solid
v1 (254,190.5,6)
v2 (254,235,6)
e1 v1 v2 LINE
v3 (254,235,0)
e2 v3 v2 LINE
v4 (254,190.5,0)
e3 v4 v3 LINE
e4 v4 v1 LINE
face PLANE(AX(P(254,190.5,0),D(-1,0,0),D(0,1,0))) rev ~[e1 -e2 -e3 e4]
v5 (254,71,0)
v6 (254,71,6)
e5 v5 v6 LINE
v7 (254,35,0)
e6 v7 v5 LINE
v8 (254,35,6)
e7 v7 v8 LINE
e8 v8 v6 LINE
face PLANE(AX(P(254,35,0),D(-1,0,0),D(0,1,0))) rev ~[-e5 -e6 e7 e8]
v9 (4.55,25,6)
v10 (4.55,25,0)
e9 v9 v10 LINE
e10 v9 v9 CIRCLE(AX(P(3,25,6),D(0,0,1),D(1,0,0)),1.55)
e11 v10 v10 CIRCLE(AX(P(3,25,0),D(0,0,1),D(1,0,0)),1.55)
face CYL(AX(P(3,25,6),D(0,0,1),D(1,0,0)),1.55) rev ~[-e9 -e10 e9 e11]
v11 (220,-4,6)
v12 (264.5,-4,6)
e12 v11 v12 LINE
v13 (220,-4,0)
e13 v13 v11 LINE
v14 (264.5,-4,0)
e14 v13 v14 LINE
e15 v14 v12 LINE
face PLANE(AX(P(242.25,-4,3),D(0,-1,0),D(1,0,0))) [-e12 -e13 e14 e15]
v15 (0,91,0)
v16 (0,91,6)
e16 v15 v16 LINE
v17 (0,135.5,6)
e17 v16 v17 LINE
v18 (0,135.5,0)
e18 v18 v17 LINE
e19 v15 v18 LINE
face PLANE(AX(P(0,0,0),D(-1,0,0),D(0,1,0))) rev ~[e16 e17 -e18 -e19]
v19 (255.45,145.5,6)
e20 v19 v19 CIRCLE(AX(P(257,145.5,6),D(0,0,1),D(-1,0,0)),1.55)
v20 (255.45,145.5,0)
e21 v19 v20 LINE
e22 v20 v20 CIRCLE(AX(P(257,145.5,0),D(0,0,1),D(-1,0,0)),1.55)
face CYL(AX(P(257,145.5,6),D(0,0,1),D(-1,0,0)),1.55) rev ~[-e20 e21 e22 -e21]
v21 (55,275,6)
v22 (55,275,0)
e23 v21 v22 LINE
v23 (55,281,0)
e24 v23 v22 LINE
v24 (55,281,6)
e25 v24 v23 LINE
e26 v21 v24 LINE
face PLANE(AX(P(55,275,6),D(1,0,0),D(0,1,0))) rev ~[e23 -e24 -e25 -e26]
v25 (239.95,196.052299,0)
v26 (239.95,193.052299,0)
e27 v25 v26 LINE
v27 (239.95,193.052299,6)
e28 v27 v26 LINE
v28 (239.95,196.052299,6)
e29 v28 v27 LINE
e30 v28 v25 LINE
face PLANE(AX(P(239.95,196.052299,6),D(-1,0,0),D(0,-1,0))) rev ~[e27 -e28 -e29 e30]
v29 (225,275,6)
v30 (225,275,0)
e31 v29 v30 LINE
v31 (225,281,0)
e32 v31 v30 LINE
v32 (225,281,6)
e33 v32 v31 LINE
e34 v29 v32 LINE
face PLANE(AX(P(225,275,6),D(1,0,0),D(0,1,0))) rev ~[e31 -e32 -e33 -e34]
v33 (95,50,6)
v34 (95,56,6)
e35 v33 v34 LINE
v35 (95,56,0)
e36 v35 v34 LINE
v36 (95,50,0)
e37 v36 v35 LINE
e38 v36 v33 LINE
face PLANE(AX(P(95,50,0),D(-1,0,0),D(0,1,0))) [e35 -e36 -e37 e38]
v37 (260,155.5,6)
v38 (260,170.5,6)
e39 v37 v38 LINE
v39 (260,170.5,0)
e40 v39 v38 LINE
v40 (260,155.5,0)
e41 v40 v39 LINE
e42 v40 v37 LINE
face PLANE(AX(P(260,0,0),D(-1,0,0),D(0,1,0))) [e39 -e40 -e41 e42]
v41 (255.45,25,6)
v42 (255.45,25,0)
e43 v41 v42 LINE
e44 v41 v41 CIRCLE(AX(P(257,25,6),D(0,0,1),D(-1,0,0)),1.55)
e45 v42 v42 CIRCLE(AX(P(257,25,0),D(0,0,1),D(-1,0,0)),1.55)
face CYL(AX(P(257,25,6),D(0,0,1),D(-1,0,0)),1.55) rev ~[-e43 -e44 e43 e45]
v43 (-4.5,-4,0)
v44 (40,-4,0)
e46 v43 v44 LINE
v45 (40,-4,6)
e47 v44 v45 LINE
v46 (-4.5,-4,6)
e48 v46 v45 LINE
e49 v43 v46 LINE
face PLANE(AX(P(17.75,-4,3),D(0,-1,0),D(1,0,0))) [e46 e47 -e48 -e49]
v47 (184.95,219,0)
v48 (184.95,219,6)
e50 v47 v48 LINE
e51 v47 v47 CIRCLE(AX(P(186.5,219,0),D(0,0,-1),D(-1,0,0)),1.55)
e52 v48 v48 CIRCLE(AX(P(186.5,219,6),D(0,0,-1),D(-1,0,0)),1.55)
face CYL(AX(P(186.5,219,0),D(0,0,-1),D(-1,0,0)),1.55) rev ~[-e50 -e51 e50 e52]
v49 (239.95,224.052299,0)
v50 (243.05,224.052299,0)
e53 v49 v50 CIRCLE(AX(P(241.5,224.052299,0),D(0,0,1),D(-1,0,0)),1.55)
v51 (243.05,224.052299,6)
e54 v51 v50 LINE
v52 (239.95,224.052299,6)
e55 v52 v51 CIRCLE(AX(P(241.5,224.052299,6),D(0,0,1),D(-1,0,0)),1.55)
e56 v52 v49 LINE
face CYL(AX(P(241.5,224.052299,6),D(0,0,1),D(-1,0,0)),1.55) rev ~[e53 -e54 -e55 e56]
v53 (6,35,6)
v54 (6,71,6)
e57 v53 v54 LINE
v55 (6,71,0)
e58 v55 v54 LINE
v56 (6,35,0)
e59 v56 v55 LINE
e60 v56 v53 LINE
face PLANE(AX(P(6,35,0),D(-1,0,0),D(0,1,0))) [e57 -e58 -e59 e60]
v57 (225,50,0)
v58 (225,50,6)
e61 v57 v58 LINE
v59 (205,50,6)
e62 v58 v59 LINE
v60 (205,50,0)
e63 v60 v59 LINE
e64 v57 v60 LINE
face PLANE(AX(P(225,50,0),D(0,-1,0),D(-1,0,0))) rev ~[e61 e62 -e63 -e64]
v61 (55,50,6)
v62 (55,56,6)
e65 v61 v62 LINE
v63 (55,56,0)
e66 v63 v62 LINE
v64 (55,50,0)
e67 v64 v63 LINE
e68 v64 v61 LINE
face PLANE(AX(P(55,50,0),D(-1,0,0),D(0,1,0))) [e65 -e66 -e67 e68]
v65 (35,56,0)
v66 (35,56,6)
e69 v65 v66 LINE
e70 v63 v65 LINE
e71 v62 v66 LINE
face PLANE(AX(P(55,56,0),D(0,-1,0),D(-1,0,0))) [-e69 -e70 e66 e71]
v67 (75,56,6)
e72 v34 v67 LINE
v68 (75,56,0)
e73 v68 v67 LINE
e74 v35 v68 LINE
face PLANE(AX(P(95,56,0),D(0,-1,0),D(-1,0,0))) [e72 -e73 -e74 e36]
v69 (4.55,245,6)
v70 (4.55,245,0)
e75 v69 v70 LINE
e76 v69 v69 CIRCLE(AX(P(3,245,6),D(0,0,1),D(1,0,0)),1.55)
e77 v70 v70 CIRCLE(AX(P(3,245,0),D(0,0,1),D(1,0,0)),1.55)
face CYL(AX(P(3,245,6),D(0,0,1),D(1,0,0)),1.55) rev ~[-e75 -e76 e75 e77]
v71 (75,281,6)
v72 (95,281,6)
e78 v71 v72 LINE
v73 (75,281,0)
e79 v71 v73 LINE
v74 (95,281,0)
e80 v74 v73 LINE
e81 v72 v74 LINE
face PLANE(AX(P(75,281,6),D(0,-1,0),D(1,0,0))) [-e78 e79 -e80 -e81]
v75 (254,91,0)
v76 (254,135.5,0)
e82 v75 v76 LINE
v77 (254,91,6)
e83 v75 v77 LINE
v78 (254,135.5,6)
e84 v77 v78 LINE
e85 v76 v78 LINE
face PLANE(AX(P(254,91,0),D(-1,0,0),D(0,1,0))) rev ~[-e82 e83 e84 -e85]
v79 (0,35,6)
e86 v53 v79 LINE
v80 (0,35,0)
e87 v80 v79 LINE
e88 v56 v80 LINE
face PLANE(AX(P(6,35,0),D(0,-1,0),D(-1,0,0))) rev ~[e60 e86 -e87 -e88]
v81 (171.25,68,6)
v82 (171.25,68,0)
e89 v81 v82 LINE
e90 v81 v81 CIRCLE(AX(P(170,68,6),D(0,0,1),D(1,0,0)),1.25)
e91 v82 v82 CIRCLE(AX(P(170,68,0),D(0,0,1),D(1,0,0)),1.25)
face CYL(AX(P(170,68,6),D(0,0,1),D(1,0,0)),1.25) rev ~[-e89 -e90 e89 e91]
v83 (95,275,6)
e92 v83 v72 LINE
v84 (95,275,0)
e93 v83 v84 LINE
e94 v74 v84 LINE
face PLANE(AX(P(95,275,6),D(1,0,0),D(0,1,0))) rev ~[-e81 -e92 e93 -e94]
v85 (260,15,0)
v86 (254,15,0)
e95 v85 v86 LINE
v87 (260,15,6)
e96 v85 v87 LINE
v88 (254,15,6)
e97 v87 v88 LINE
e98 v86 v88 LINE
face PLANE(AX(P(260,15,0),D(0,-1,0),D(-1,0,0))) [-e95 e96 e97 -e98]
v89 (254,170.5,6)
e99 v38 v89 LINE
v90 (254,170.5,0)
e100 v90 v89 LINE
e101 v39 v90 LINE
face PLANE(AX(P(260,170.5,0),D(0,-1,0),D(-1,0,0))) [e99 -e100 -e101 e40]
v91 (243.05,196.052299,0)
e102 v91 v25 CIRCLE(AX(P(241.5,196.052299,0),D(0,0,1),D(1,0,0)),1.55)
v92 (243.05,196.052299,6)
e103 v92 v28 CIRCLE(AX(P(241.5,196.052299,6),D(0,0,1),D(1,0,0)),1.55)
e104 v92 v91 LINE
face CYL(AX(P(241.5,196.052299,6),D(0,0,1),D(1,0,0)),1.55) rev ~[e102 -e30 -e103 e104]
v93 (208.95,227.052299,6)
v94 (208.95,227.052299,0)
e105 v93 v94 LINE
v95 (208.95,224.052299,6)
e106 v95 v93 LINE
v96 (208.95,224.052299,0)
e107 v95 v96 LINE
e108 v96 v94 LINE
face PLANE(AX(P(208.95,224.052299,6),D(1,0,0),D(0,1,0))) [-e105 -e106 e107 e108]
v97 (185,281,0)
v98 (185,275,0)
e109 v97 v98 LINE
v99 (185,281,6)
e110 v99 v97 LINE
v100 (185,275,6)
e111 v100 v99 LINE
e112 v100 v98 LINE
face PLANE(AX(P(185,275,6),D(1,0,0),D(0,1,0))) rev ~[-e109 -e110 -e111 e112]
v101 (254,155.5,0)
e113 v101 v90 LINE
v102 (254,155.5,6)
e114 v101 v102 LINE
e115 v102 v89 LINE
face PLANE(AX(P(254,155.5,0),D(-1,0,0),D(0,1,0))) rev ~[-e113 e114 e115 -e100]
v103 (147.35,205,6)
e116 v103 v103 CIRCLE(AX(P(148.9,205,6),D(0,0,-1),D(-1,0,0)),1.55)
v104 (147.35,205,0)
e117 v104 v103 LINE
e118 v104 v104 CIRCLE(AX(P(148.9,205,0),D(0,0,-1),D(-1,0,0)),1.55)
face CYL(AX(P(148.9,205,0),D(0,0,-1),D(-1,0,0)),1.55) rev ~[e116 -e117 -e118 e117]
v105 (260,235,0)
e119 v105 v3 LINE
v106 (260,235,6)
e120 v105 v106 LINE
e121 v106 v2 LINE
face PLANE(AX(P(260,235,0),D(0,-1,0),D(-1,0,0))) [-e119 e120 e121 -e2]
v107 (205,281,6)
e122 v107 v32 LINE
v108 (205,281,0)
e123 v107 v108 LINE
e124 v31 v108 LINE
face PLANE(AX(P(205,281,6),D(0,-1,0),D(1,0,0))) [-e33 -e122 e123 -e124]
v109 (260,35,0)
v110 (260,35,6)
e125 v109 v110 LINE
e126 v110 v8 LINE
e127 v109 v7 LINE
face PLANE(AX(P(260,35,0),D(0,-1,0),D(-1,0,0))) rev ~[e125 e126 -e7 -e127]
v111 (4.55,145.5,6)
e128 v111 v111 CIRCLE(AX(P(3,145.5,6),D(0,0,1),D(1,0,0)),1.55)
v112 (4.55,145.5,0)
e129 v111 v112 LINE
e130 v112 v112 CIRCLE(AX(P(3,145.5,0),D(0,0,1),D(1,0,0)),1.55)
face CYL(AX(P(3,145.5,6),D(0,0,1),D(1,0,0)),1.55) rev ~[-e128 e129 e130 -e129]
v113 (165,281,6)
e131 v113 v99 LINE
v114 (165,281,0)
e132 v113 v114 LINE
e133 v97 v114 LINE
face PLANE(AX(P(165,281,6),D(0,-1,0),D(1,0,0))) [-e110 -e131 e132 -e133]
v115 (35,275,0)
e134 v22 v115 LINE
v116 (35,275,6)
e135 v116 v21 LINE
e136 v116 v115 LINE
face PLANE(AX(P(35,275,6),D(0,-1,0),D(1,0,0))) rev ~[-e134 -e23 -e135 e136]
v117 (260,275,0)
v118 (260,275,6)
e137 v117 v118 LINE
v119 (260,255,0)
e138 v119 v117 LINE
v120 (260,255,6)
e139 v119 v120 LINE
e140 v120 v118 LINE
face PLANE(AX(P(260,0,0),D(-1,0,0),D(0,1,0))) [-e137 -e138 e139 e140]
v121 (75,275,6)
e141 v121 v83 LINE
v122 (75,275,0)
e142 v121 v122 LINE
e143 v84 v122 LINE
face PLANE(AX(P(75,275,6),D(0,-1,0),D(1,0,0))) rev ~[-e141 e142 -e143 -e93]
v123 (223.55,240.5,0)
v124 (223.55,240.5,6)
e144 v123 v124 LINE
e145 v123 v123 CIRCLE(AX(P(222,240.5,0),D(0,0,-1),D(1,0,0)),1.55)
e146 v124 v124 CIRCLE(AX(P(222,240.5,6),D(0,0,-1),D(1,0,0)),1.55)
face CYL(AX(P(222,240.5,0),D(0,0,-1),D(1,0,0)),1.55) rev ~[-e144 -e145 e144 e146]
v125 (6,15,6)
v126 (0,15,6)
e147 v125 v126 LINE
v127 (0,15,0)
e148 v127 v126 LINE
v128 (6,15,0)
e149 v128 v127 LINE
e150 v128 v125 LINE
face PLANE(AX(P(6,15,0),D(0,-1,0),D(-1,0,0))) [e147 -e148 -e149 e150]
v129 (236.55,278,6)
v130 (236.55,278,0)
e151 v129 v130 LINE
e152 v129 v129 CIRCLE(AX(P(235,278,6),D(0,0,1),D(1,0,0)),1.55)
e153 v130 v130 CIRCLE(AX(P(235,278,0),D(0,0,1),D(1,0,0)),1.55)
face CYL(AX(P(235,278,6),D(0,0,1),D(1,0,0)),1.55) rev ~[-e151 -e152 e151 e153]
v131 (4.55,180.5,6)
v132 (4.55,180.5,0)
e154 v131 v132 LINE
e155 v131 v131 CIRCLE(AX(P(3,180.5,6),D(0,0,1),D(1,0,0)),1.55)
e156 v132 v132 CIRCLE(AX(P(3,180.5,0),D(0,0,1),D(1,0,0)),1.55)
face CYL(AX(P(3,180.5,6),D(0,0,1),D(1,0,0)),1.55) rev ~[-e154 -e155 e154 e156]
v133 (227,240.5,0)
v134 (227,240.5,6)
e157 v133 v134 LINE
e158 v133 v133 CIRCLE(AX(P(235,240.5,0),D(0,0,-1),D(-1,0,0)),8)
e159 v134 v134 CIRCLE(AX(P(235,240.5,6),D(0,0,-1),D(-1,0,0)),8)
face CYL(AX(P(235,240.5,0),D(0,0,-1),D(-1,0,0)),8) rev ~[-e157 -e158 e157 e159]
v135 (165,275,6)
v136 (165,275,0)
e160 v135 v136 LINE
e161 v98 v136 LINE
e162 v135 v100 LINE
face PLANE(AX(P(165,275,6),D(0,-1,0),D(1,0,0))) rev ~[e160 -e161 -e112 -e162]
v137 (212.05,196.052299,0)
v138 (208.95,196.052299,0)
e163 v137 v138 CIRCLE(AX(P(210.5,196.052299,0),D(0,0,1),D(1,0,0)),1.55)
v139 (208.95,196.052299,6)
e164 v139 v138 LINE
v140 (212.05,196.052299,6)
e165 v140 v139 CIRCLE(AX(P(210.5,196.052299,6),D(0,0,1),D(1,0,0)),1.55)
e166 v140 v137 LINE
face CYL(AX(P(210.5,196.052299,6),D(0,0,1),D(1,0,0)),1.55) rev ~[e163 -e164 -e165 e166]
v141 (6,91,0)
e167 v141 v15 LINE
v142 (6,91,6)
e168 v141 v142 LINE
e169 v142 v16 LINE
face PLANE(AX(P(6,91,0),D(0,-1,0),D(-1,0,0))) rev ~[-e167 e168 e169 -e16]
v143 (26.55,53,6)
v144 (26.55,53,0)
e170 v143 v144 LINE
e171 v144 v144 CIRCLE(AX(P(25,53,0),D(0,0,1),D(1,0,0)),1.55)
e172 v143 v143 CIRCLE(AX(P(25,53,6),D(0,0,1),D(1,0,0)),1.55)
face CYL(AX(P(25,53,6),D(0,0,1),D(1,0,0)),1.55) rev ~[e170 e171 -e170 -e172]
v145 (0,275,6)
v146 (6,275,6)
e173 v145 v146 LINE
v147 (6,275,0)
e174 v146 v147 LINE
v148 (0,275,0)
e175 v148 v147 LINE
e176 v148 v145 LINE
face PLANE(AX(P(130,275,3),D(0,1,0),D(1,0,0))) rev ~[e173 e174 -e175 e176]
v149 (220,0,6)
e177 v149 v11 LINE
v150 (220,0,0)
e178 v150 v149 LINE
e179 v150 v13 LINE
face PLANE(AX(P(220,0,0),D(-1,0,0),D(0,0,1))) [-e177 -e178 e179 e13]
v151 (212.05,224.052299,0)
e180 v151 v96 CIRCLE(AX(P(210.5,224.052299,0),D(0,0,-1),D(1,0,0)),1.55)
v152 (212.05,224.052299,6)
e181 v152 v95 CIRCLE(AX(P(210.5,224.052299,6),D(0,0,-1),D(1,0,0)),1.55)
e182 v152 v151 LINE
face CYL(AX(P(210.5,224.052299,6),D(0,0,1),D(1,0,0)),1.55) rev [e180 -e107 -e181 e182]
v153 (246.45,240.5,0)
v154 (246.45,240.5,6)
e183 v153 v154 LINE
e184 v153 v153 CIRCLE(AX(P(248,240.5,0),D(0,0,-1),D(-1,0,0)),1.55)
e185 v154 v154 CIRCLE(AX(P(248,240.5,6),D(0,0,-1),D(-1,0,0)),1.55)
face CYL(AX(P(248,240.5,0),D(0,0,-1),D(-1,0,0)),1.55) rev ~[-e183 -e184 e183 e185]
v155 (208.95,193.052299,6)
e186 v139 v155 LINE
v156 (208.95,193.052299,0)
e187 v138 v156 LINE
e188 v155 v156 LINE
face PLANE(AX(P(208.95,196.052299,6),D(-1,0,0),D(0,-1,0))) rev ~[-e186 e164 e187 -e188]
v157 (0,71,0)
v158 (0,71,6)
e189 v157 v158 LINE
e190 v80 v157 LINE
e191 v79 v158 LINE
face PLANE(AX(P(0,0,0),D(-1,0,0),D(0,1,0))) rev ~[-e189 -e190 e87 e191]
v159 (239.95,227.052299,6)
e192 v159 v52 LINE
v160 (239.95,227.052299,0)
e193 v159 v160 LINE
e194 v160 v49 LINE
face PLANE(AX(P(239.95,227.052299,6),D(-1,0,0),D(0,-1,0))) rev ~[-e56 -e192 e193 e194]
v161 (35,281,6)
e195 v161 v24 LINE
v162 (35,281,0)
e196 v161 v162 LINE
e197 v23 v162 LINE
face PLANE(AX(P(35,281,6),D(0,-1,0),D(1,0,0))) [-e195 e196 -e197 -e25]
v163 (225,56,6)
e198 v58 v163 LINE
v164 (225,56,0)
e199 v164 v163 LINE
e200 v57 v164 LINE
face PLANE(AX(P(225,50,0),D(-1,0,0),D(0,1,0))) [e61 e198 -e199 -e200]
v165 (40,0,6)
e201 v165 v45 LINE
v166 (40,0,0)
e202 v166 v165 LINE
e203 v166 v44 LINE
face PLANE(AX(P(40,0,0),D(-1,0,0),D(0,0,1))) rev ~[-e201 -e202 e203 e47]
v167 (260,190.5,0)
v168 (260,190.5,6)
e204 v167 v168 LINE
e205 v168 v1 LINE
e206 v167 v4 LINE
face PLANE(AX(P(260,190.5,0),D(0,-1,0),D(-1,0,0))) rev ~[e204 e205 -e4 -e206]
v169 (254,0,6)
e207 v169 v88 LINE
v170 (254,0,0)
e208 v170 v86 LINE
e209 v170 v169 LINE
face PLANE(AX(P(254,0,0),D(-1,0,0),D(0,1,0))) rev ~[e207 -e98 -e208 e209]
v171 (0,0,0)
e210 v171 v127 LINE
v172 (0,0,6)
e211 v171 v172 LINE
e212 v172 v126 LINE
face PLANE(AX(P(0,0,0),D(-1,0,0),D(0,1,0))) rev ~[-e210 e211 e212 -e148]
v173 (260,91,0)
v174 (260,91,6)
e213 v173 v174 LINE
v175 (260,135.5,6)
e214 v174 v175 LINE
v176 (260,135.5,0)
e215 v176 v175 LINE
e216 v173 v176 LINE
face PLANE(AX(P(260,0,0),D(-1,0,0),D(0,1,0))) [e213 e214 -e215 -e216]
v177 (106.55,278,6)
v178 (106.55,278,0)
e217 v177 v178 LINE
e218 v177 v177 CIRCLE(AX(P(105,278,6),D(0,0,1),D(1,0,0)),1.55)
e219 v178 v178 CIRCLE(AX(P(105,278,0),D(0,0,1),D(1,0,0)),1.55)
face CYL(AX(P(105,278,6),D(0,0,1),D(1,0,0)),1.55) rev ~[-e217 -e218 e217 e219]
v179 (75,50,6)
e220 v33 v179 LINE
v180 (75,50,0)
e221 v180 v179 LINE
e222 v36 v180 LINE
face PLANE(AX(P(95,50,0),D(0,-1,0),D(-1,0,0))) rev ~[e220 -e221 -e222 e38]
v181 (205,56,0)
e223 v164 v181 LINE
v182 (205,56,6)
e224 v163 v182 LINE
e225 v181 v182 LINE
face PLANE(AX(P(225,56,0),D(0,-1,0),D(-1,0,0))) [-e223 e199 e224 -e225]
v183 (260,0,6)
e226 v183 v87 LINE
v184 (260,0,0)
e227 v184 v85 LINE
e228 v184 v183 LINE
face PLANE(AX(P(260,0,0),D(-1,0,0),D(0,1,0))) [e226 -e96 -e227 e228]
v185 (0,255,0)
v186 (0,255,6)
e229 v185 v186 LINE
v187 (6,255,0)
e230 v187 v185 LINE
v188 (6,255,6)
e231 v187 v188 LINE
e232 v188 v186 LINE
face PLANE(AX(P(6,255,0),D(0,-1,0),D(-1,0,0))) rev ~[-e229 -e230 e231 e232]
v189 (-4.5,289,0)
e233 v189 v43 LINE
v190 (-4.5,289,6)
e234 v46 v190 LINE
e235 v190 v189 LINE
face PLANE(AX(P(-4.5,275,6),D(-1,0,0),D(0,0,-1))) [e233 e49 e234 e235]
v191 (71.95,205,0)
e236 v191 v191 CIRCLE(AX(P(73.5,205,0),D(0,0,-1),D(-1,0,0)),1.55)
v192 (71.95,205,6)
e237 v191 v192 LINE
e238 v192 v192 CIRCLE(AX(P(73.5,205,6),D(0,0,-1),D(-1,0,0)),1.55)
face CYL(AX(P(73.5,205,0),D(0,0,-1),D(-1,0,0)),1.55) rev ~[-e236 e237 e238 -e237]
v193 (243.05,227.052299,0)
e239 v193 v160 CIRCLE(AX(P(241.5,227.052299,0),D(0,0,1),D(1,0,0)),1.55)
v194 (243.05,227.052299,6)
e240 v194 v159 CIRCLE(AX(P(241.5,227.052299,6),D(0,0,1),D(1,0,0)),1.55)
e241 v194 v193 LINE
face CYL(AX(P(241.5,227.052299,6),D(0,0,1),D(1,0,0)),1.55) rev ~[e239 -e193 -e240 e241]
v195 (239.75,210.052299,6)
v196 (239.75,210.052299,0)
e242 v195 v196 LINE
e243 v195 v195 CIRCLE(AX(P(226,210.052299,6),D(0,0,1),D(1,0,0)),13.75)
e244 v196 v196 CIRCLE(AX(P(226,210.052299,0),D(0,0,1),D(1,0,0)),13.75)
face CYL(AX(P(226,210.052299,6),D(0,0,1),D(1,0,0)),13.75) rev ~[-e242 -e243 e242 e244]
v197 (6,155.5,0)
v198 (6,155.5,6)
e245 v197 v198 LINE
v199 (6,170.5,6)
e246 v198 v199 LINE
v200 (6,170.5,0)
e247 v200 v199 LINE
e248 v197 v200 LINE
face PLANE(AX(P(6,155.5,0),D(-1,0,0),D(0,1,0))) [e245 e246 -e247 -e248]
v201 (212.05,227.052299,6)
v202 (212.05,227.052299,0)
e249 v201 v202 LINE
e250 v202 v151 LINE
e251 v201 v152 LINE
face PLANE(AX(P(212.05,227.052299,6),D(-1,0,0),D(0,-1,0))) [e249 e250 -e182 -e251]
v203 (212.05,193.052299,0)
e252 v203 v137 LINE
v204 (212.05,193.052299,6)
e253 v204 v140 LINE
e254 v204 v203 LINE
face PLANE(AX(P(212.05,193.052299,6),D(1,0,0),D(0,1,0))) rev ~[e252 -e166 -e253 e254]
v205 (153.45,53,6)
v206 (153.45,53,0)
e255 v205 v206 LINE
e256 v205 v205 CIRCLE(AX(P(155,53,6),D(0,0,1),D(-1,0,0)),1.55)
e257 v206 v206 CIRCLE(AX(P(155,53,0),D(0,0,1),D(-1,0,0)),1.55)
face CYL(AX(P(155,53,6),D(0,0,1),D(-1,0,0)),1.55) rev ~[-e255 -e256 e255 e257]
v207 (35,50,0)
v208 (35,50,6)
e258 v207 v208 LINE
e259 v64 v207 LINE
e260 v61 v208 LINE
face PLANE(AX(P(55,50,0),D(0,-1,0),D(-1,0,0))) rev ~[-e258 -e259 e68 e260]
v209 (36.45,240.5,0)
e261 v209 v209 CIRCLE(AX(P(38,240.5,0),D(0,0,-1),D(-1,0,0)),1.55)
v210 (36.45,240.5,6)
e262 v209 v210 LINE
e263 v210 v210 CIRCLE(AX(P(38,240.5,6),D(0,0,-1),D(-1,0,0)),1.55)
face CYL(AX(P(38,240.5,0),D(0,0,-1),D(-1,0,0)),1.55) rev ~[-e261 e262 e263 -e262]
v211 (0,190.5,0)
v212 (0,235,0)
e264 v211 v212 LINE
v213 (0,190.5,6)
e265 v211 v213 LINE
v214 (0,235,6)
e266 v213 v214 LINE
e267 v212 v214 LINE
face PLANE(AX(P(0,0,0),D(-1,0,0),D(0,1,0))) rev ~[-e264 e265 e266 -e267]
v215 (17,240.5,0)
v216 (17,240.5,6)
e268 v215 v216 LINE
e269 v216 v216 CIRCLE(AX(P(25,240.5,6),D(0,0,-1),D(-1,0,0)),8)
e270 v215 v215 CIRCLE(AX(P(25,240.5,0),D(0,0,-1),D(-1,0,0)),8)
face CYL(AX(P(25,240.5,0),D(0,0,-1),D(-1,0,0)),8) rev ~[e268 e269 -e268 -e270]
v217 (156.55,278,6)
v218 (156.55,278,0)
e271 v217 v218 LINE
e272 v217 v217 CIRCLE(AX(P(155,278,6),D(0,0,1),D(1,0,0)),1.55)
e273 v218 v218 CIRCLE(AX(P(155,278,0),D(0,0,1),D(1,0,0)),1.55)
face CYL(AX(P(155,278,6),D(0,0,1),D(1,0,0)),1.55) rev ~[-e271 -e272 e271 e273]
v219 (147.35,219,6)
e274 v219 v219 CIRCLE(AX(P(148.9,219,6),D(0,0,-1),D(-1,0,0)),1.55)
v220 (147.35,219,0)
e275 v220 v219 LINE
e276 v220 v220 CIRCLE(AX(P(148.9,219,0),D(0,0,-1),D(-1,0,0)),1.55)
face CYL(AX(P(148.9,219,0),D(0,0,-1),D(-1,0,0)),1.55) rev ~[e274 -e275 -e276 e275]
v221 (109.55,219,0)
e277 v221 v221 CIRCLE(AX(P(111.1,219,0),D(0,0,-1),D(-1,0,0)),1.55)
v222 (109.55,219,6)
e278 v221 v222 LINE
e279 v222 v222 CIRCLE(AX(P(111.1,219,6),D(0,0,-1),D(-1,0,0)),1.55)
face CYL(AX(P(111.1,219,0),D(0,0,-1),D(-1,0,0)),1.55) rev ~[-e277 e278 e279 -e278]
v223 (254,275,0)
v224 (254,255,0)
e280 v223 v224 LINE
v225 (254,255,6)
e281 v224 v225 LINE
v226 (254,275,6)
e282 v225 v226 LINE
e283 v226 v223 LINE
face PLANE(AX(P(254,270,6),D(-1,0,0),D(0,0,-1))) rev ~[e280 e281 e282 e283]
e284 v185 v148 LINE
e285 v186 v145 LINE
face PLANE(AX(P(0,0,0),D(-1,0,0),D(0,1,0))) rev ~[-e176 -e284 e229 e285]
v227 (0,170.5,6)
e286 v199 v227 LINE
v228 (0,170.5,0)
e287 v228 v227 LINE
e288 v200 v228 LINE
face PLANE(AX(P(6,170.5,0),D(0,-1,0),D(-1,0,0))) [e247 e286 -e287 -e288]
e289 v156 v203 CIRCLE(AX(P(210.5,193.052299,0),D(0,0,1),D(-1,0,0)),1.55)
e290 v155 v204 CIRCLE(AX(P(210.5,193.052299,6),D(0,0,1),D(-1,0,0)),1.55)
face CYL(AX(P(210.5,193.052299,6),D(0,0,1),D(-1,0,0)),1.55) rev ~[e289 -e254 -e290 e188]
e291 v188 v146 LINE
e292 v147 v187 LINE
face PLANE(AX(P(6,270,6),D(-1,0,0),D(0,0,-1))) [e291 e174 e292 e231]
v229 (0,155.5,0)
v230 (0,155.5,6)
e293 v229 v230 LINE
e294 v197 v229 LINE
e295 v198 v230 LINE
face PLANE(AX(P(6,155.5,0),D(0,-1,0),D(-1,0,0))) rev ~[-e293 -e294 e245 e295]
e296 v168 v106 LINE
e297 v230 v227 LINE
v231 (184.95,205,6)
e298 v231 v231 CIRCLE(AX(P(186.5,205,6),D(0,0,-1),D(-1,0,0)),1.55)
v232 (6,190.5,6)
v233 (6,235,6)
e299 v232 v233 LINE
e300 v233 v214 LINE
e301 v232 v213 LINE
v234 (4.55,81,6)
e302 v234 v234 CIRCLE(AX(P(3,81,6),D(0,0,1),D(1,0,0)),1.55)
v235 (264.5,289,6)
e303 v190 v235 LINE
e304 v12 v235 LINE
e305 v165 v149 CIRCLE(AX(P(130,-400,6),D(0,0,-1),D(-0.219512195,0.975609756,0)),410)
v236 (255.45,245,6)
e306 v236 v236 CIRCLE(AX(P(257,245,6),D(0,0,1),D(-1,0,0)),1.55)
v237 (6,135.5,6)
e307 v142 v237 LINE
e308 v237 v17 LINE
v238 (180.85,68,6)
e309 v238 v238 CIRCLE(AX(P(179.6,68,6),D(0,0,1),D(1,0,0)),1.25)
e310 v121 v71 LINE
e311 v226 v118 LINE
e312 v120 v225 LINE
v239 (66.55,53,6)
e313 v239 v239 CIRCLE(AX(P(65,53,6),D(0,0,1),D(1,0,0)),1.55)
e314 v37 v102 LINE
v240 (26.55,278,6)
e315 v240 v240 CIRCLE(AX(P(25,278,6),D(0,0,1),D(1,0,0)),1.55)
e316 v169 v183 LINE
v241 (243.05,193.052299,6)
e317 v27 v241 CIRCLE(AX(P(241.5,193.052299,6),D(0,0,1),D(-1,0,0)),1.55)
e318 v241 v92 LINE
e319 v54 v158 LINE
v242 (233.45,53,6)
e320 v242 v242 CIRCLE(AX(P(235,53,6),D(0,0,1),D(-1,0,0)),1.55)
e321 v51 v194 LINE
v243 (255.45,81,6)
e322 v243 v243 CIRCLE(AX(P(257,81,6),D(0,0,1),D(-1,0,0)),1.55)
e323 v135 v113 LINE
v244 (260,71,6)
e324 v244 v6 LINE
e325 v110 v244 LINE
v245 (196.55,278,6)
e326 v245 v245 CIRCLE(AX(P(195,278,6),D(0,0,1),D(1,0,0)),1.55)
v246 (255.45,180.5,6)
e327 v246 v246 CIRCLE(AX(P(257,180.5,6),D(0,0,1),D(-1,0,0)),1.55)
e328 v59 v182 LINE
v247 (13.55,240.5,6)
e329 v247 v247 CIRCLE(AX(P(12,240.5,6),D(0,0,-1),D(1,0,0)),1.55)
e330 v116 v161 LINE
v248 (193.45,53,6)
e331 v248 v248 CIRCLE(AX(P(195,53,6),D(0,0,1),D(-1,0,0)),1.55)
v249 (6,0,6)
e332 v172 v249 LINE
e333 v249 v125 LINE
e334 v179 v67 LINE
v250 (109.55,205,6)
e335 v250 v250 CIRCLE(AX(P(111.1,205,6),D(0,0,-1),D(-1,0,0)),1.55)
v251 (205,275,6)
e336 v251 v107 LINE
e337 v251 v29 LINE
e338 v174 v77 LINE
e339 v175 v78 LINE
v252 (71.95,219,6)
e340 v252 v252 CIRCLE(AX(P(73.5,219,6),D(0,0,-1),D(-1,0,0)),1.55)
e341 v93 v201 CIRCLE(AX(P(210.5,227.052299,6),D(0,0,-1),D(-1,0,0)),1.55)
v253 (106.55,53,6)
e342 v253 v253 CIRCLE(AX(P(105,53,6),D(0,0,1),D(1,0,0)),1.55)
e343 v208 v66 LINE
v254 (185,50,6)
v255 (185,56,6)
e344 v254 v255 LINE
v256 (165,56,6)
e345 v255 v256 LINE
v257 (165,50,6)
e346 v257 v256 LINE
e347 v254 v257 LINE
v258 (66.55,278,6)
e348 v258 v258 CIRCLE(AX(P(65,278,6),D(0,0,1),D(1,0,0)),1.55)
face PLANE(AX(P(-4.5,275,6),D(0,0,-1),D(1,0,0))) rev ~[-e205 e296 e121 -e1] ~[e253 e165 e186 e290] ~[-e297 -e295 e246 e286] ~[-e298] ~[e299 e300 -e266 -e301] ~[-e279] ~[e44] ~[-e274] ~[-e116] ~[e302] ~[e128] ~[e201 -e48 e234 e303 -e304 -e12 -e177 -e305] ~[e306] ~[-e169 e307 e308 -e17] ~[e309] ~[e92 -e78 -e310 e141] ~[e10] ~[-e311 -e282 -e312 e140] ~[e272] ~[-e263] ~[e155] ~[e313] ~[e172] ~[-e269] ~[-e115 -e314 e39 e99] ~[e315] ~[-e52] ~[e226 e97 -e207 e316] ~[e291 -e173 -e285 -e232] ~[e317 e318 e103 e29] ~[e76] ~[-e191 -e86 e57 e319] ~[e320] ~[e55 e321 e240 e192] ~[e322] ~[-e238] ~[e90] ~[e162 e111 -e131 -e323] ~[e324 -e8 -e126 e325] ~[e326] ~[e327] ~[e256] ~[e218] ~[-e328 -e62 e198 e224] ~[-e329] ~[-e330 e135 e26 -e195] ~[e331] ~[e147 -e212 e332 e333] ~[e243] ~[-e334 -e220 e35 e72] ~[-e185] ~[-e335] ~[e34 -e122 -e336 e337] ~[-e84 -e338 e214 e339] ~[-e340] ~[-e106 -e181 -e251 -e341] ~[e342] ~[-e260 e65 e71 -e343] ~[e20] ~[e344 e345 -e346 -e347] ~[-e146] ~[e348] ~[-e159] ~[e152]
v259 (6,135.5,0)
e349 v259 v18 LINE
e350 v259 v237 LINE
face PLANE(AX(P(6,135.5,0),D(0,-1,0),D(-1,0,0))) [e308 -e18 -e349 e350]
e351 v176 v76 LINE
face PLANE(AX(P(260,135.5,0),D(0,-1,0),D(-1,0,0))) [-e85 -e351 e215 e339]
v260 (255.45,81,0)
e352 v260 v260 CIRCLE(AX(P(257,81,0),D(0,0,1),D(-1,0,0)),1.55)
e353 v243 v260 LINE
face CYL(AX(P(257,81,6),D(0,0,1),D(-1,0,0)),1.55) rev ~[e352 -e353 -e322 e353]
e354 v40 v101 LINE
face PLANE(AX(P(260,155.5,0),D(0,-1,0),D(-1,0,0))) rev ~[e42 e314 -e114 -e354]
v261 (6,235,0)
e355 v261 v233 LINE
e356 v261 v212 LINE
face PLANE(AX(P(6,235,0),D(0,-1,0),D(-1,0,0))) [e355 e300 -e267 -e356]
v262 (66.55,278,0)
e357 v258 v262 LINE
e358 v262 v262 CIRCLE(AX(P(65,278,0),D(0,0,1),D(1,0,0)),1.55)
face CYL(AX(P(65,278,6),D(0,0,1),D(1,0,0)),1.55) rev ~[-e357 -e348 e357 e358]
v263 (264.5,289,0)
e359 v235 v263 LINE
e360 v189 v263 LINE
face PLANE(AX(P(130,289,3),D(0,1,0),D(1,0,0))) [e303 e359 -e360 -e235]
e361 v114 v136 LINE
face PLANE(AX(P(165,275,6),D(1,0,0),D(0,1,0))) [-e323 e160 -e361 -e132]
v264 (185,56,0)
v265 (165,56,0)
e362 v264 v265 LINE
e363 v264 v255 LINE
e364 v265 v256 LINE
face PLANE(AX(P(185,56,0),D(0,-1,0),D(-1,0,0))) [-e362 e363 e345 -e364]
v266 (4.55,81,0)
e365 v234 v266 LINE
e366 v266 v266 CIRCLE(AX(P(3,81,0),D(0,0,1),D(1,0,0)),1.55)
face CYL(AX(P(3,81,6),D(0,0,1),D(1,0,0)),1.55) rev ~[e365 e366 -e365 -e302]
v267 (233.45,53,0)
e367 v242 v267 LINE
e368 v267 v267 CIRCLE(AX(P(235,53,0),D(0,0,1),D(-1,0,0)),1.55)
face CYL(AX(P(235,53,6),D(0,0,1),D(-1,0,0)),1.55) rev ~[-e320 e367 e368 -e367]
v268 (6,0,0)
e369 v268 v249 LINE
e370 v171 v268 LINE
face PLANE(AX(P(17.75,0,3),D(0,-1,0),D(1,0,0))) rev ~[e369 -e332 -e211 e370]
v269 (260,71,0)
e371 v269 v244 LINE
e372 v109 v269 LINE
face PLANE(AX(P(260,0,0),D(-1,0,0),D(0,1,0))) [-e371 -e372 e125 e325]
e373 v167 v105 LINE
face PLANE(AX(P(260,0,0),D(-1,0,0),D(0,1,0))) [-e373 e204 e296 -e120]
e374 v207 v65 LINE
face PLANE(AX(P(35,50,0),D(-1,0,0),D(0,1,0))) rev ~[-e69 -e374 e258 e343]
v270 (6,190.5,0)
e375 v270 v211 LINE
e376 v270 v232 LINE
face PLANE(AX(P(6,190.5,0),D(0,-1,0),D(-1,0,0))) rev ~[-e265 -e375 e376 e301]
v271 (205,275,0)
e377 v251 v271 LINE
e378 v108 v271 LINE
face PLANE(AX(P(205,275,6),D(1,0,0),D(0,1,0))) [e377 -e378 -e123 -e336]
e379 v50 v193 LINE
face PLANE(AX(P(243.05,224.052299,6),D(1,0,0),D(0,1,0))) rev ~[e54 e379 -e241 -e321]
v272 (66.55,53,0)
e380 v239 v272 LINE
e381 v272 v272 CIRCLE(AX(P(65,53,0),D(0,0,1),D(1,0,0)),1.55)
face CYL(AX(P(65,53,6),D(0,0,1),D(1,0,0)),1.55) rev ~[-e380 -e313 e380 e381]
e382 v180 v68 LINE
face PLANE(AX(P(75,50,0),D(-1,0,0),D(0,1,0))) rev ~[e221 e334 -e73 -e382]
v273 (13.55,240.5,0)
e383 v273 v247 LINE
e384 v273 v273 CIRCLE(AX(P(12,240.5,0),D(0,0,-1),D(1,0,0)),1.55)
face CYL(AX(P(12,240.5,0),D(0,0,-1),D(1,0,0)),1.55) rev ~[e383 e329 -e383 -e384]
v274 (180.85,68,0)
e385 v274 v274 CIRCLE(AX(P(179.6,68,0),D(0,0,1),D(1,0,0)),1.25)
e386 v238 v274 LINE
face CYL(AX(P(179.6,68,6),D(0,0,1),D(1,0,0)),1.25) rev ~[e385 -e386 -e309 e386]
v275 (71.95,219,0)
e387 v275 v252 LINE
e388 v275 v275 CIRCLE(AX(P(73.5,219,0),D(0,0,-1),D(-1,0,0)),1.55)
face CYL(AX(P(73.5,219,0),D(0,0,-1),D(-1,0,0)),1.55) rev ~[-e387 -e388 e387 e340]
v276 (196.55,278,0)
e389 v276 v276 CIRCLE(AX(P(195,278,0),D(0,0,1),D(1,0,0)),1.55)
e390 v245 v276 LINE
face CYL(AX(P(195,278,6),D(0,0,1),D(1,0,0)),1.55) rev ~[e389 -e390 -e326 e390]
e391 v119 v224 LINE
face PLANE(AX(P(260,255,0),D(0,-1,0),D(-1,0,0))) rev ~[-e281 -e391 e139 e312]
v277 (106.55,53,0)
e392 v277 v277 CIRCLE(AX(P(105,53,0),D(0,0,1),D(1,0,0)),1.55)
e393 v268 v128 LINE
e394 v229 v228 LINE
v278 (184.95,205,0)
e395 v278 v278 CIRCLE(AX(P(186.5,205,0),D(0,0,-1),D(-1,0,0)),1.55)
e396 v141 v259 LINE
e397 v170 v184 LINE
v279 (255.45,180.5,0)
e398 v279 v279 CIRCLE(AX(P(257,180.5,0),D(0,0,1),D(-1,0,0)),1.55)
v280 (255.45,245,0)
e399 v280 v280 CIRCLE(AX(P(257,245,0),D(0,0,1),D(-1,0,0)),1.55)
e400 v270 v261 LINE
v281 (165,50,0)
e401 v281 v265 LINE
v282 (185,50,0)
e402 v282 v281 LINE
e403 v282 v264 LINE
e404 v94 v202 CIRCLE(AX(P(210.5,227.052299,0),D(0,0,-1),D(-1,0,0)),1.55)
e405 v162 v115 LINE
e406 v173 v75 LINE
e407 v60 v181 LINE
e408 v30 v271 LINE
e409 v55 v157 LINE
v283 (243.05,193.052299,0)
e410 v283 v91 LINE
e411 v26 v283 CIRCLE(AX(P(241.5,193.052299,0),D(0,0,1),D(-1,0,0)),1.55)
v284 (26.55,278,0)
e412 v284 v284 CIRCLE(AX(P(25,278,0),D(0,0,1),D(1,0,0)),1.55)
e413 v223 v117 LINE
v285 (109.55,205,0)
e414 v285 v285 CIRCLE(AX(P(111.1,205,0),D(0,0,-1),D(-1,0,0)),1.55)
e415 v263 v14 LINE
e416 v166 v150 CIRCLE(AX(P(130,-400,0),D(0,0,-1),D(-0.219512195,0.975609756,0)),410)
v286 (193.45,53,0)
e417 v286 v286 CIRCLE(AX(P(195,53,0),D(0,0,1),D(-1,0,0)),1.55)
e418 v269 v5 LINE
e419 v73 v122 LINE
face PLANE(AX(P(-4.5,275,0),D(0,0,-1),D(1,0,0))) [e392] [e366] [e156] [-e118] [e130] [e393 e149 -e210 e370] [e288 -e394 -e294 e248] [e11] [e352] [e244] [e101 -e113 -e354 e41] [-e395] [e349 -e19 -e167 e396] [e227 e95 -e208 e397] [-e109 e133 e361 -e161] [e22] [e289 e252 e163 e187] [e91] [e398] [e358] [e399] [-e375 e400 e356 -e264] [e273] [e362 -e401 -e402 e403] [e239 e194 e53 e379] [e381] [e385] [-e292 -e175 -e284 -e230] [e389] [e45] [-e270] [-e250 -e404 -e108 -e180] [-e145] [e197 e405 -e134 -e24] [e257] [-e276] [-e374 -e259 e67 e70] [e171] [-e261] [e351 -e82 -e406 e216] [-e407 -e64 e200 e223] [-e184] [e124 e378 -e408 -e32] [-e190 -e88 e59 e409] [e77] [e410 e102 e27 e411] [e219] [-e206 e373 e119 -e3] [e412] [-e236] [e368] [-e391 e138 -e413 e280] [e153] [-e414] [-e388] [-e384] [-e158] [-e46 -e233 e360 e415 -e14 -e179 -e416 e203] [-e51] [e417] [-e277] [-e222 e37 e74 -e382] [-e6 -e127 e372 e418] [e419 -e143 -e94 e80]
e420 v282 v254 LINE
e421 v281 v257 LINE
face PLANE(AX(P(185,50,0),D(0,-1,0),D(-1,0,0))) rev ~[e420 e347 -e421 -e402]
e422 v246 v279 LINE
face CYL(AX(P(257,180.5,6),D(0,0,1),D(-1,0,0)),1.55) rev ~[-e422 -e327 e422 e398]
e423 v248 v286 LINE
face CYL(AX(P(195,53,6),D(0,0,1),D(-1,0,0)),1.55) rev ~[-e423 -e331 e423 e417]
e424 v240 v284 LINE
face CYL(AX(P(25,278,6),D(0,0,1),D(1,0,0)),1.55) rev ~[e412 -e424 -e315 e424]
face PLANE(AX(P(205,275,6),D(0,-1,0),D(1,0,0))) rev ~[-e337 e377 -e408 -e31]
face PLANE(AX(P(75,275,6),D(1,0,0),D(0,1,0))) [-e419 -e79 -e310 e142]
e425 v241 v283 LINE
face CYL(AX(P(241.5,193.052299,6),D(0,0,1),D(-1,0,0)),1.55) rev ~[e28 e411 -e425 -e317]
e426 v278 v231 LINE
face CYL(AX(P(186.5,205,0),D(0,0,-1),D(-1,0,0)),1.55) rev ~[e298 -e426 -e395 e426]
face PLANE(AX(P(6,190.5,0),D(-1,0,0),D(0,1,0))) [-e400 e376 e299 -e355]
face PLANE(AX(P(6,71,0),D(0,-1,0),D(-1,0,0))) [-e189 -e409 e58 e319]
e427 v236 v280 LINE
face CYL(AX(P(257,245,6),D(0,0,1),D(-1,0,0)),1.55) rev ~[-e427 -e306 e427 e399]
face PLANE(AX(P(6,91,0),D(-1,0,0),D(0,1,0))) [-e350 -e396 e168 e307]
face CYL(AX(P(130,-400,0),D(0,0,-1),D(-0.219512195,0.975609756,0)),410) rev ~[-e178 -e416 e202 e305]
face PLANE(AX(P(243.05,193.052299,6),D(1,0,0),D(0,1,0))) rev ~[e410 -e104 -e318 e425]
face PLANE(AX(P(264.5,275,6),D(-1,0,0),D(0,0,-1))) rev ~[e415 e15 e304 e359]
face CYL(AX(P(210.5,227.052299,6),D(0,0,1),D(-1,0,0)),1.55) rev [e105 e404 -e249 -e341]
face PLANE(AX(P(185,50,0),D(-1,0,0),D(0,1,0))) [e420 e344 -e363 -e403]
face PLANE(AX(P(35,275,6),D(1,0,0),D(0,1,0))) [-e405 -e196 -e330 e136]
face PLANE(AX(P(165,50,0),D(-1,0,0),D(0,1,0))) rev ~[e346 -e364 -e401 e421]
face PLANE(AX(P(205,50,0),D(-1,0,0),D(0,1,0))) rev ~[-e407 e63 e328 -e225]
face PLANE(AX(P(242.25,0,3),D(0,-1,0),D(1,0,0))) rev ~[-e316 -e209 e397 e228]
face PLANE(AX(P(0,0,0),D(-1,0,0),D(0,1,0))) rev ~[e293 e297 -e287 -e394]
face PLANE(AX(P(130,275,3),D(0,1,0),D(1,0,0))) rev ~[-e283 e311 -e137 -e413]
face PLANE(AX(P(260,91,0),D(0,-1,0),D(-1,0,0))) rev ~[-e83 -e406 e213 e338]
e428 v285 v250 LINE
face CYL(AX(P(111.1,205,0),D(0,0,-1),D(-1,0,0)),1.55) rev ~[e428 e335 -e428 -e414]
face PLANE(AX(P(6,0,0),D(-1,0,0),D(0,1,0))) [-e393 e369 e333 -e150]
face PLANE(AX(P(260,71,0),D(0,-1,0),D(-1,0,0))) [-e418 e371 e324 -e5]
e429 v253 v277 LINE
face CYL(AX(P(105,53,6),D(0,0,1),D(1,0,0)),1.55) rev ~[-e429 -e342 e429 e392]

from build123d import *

# Parameters (mm, degrees)
SKETCH1_W           = 260
SKETCH1_H           = 270
BOSS_EXTRUDE1_DEPTH = 6
SKETCH2_W           = 20
SKETCH2_H           = 6
CUT_EXTRUDE1_DEPTH  = 6
SKETCH4_W           = 6
SKETCH4_H           = 44.5
SKETCH4_H_2         = 15
SKETCH4_H_3         = 36
CUT_EXTRUDE3_DEPTH  = 6
SKETCH5_R           = 8
CUT_EXTRUDE4_DEPTH  = 10
SKETCH6_R           = 8
SKETCH6_R_2         = 1.55
CUT_EXTRUDE5_DEPTH  = 6
SKETCH7_R           = 1.55
CUT_EXTRUDE6_DEPTH  = 10
SKETCH8_W           = 248
SKETCH8_H           = 6
BOSS_EXTRUDE2_DEPTH = 5
SKETCH9_W           = 4.5
SKETCH9_H           = 275
BOSS_EXTRUDE5_DEPTH = 6
SKETCH10_R          = 13.75
CUT_EXTRUDE7_DEPTH  = 6
SKETCH11_R          = 1.55
CUT_EXTRUDE8_DEPTH  = 6
SKETCH12_R          = 1.55
CUT_EXTRUDE9_DEPTH  = 10
SKETCH13_W          = 44.5
SKETCH13_H          = 6
BOSS_EXTRUDE6_DEPTH = 4
SKETCH14_W          = 269
SKETCH14_H          = 6
BOSS_EXTRUDE7_DEPTH = 14
SKETCH15_R          = 1.55
SKETCH15_W          = 20
SKETCH15_H          = 6
CUT_EXTRUDE10_DEPTH = 10
SKETCH16_R          = 1.25
CUT_EXTRUDE11_DEPTH = 10


with BuildPart() as part:
    # Sketch1 → Boss-Extrude1 (new body)
    with BuildSketch(Plane.XY):
        with Locations((130, 135)):
            Rectangle(SKETCH1_W, SKETCH1_H)
    extrude(amount=BOSS_EXTRUDE1_DEPTH)

    # Sketch2 → Cut-Extrude1 (cut)
    with BuildSketch(Plane(origin=(0, 0, 0), x_dir=(-1, 0, 0), z_dir=(0, 0, -1))):
        with Locations((-215, 53)):
            Rectangle(SKETCH2_W, SKETCH2_H)
        with Locations((-175, 53)):
            Rectangle(SKETCH2_W, SKETCH2_H)
        with BuildLine():
            Line((-220, 0), (-40, 0))
            ThreePointArc((-40, 0), (-130, 10), (-220, 0))
        make_face()
        with Locations((-85, 53)):
            Rectangle(SKETCH2_W, SKETCH2_H)
        with Locations((-45, 53)):
            Rectangle(SKETCH2_W, SKETCH2_H)
    extrude(amount=-CUT_EXTRUDE1_DEPTH, mode=Mode.SUBTRACT)

    # Sketch4 → Cut-Extrude3 (cut)
    with BuildSketch(Plane(origin=(0, 0, 0), x_dir=(-1, 0, 0), z_dir=(0, 0, -1))):
        Polygon((-254, 270), (-260, 270), (-260, 264), (-260, 255), (-254, 255), (-254, 264), align=None)
        with Locations((-257, 212.75)):
            Rectangle(SKETCH4_W, SKETCH4_H)
        with Locations((-257, 163)):
            Rectangle(SKETCH4_W, SKETCH4_H_2)
        with Locations((-257, 113.25)):
            Rectangle(SKETCH4_W, SKETCH4_H)
        with Locations((-257, 53)):
            Rectangle(SKETCH4_W, SKETCH4_H_3)
        with Locations((-257, 7.5)):
            Rectangle(SKETCH4_W, SKETCH4_H_2)
        with Locations((-3, 7.5)):
            Rectangle(SKETCH4_W, SKETCH4_H_2)
        with Locations((-3, 53)):
            Rectangle(SKETCH4_W, SKETCH4_H_3)
        with Locations((-3, 113.25)):
            Rectangle(SKETCH4_W, SKETCH4_H)
        with Locations((-3, 212.75)):
            Rectangle(SKETCH4_W, SKETCH4_H)
        with Locations((-3, 262.5)):
            Rectangle(SKETCH4_W, SKETCH4_H_2)
        with Locations((-3, 163)):
            Rectangle(SKETCH4_W, SKETCH4_H_2)
    extrude(amount=-CUT_EXTRUDE3_DEPTH, mode=Mode.SUBTRACT)

    # Sketch5 → Cut-Extrude4 (cut)
    with BuildSketch(Plane(origin=(0, 0, 0), x_dir=(-1, 0, 0), z_dir=(0, 0, -1))):
        with Locations((-235, 240.5)):
            Circle(SKETCH5_R)
        with Locations((-25, 240.5)):
            Circle(SKETCH5_R)
    extrude(amount=-CUT_EXTRUDE4_DEPTH, mode=Mode.SUBTRACT)

    # Sketch6 → Cut-Extrude5 (cut)
    with BuildSketch(Plane(origin=(0, 0, 0), x_dir=(-1, 0, 0), z_dir=(0, 0, -1))):
        with Locations((-235, 240.5)):
            Circle(SKETCH6_R)
        with Locations((-248, 240.5)):
            Circle(SKETCH6_R_2)
        with Locations(Location((-222, 240.5, 0), (0, 0, 180))):
            Circle(SKETCH6_R_2)
        with Locations(Location((-12, 240.5, 0), (0, 0, 180))):
            Circle(SKETCH6_R_2)
        with Locations((-38, 240.5)):
            Circle(SKETCH6_R_2)
    extrude(amount=-CUT_EXTRUDE5_DEPTH, mode=Mode.SUBTRACT)

    # Sketch7 → Cut-Extrude6 (cut)
    with BuildSketch(Plane(origin=(0, 0, 0), x_dir=(-1, 0, 0), z_dir=(0, 0, -1))):
        with Locations((-186.5, 205)):
            Circle(SKETCH7_R)
        with Locations((-148.9, 205)):
            Circle(SKETCH7_R)
        with Locations((-148.9, 219)):
            Circle(SKETCH7_R)
        with Locations((-186.5, 219)):
            Circle(SKETCH7_R)
        with Locations((-73.5, 205)):
            Circle(SKETCH7_R)
        with Locations((-111.1, 205)):
            Circle(SKETCH7_R)
        with Locations((-111.1, 219)):
            Circle(SKETCH7_R)
        with Locations((-73.5, 219)):
            Circle(SKETCH7_R)
    extrude(amount=-CUT_EXTRUDE6_DEPTH, mode=Mode.SUBTRACT)

    # Sketch8 → Boss-Extrude2 (add)
    with BuildSketch(Plane(origin=(0, 270, 0), x_dir=(1, 0, 0), z_dir=(0, 1, 0))):
        with Locations((130, -3)):
            Rectangle(SKETCH8_W, SKETCH8_H)
    extrude(amount=BOSS_EXTRUDE2_DEPTH)

    # Sketch9 → Boss-Extrude5 (add)
    with BuildSketch(Plane(origin=(0, 0, 0), x_dir=(-1, 0, 0), z_dir=(0, 0, -1))):
        with Locations((2.25, 137.5)):
            Rectangle(SKETCH9_W, SKETCH9_H)
        with Locations((-262.25, 137.5)):
            Rectangle(SKETCH9_W, SKETCH9_H)
    extrude(amount=-BOSS_EXTRUDE5_DEPTH)

    # Sketch10 → Cut-Extrude7 (cut)
    with BuildSketch(Plane.XY.offset(6)):
        with Locations((226, 210.052298937)):
            Circle(SKETCH10_R)
        with BuildLine():
            Line((208.95, 224.052298937), (208.95, 227.052298937))
            ThreePointArc((208.95, 227.052298937), (210.5, 228.602298937), (212.05, 227.052298937))
            Line((212.05, 227.052298937), (212.05, 224.052298937))
            ThreePointArc((212.05, 224.052298937), (210.5, 222.502298937), (208.95, 224.052298937))
        make_face()
        with BuildLine():
            Line((243.05, 224.052298937), (243.05, 227.052298937))
            ThreePointArc((243.05, 227.052298937), (241.5, 228.602298937), (239.95, 227.052298937))
            Line((239.95, 227.052298937), (239.95, 224.052298937))
            ThreePointArc((239.95, 224.052298937), (241.5, 222.502298937), (243.05, 224.052298937))
        make_face()
        with BuildLine():
            Line((243.05, 193.052298937), (243.05, 196.052298937))
            ThreePointArc((243.05, 196.052298937), (241.5, 197.602298937), (239.95, 196.052298937))
            Line((239.95, 196.052298937), (239.95, 193.052298937))
            ThreePointArc((239.95, 193.052298937), (241.5, 191.502298937), (243.05, 193.052298937))
        make_face()
        with BuildLine():
            Line((212.05, 193.052298937), (212.05, 196.052298937))
            ThreePointArc((212.05, 196.052298937), (210.5, 197.602298937), (208.95, 196.052298937))
            Line((208.95, 196.052298937), (208.95, 193.052298937))
            ThreePointArc((208.95, 193.052298937), (210.5, 191.502298937), (212.05, 193.052298937))
        make_face()
    extrude(amount=-CUT_EXTRUDE7_DEPTH, mode=Mode.SUBTRACT)

    # Sketch11 → Cut-Extrude8 (cut)
    with BuildSketch(Plane.XY.offset(6)):
        with Locations((3, 245)):
            Circle(SKETCH11_R)
        with Locations((3, 180.5)):
            Circle(SKETCH11_R)
        with Locations((3, 145.5)):
            Circle(SKETCH11_R)
        with Locations((3, 81)):
            Circle(SKETCH11_R)
        with Locations((3, 25)):
            Circle(SKETCH11_R)
        with Locations(Location((257, 25, 0), (0, 0, 180))):
            Circle(SKETCH11_R)
        with Locations(Location((257, 81, 0), (0, 0, 180))):
            Circle(SKETCH11_R)
        with Locations(Location((257, 145.5, 0), (0, 0, 180))):
            Circle(SKETCH11_R)
        with Locations(Location((257, 180.5, 0), (0, 0, 180))):
            Circle(SKETCH11_R)
        with Locations(Location((257, 245, 0), (0, 0, 180))):
            Circle(SKETCH11_R)
    extrude(amount=-CUT_EXTRUDE8_DEPTH, mode=Mode.SUBTRACT)

    # Sketch12 → Cut-Extrude9 (cut)
    with BuildSketch(Plane.XY.offset(6)):
        with Locations((25, 53)):
            Circle(SKETCH12_R)
        with Locations((65, 53)):
            Circle(SKETCH12_R)
        with Locations((105, 53)):
            Circle(SKETCH12_R)
        with Locations(Location((155, 53, 0), (0, 0, 180))):
            Circle(SKETCH12_R)
        with Locations(Location((195, 53, 0), (0, 0, 180))):
            Circle(SKETCH12_R)
        with Locations(Location((235, 53, 0), (0, 0, 180))):
            Circle(SKETCH12_R)
    extrude(amount=-CUT_EXTRUDE9_DEPTH, mode=Mode.SUBTRACT)

    # Sketch13 → Boss-Extrude6 (add)
    with BuildSketch(Plane.XZ):
        with Locations((17.75, 3)):
            Rectangle(SKETCH13_W, SKETCH13_H)
        with Locations((242.25, 3)):
            Rectangle(SKETCH13_W, SKETCH13_H)
    extrude(amount=BOSS_EXTRUDE6_DEPTH)

    # Sketch14 → Boss-Extrude7 (add)
    with BuildSketch(Plane(origin=(0, 275, 0), x_dir=(1, 0, 0), z_dir=(0, 1, 0))):
        with Locations((130, -3)):
            Rectangle(SKETCH14_W, SKETCH14_H)
    extrude(amount=BOSS_EXTRUDE7_DEPTH)

    # Sketch15 → Cut-Extrude10 (cut)
    with BuildSketch(Plane.XY.offset(6)):
        with Locations((25, 278)):
            Circle(SKETCH15_R)
        with Locations((65, 278)):
            Circle(SKETCH15_R)
        with Locations((105, 278)):
            Circle(SKETCH15_R)
        with Locations((155, 278)):
            Circle(SKETCH15_R)
        with Locations((195, 278)):
            Circle(SKETCH15_R)
        with Locations((235, 278)):
            Circle(SKETCH15_R)
        with Locations((45, 278)):
            Rectangle(SKETCH15_W, SKETCH15_H)
        with Locations((85, 278)):
            Rectangle(SKETCH15_W, SKETCH15_H)
        with Locations((175, 278)):
            Rectangle(SKETCH15_W, SKETCH15_H)
        with Locations((215, 278)):
            Rectangle(SKETCH15_W, SKETCH15_H)
    extrude(amount=-CUT_EXTRUDE10_DEPTH, mode=Mode.SUBTRACT)

    # Sketch16 → Cut-Extrude11 (cut)
    with BuildSketch(Plane.XY.offset(6)):
        with Locations((179.6, 68)):
            Circle(SKETCH16_R)
        with Locations((170, 68)):
            Circle(SKETCH16_R)
    extrude(amount=-CUT_EXTRUDE11_DEPTH, mode=Mode.SUBTRACT)


solid = part.part
